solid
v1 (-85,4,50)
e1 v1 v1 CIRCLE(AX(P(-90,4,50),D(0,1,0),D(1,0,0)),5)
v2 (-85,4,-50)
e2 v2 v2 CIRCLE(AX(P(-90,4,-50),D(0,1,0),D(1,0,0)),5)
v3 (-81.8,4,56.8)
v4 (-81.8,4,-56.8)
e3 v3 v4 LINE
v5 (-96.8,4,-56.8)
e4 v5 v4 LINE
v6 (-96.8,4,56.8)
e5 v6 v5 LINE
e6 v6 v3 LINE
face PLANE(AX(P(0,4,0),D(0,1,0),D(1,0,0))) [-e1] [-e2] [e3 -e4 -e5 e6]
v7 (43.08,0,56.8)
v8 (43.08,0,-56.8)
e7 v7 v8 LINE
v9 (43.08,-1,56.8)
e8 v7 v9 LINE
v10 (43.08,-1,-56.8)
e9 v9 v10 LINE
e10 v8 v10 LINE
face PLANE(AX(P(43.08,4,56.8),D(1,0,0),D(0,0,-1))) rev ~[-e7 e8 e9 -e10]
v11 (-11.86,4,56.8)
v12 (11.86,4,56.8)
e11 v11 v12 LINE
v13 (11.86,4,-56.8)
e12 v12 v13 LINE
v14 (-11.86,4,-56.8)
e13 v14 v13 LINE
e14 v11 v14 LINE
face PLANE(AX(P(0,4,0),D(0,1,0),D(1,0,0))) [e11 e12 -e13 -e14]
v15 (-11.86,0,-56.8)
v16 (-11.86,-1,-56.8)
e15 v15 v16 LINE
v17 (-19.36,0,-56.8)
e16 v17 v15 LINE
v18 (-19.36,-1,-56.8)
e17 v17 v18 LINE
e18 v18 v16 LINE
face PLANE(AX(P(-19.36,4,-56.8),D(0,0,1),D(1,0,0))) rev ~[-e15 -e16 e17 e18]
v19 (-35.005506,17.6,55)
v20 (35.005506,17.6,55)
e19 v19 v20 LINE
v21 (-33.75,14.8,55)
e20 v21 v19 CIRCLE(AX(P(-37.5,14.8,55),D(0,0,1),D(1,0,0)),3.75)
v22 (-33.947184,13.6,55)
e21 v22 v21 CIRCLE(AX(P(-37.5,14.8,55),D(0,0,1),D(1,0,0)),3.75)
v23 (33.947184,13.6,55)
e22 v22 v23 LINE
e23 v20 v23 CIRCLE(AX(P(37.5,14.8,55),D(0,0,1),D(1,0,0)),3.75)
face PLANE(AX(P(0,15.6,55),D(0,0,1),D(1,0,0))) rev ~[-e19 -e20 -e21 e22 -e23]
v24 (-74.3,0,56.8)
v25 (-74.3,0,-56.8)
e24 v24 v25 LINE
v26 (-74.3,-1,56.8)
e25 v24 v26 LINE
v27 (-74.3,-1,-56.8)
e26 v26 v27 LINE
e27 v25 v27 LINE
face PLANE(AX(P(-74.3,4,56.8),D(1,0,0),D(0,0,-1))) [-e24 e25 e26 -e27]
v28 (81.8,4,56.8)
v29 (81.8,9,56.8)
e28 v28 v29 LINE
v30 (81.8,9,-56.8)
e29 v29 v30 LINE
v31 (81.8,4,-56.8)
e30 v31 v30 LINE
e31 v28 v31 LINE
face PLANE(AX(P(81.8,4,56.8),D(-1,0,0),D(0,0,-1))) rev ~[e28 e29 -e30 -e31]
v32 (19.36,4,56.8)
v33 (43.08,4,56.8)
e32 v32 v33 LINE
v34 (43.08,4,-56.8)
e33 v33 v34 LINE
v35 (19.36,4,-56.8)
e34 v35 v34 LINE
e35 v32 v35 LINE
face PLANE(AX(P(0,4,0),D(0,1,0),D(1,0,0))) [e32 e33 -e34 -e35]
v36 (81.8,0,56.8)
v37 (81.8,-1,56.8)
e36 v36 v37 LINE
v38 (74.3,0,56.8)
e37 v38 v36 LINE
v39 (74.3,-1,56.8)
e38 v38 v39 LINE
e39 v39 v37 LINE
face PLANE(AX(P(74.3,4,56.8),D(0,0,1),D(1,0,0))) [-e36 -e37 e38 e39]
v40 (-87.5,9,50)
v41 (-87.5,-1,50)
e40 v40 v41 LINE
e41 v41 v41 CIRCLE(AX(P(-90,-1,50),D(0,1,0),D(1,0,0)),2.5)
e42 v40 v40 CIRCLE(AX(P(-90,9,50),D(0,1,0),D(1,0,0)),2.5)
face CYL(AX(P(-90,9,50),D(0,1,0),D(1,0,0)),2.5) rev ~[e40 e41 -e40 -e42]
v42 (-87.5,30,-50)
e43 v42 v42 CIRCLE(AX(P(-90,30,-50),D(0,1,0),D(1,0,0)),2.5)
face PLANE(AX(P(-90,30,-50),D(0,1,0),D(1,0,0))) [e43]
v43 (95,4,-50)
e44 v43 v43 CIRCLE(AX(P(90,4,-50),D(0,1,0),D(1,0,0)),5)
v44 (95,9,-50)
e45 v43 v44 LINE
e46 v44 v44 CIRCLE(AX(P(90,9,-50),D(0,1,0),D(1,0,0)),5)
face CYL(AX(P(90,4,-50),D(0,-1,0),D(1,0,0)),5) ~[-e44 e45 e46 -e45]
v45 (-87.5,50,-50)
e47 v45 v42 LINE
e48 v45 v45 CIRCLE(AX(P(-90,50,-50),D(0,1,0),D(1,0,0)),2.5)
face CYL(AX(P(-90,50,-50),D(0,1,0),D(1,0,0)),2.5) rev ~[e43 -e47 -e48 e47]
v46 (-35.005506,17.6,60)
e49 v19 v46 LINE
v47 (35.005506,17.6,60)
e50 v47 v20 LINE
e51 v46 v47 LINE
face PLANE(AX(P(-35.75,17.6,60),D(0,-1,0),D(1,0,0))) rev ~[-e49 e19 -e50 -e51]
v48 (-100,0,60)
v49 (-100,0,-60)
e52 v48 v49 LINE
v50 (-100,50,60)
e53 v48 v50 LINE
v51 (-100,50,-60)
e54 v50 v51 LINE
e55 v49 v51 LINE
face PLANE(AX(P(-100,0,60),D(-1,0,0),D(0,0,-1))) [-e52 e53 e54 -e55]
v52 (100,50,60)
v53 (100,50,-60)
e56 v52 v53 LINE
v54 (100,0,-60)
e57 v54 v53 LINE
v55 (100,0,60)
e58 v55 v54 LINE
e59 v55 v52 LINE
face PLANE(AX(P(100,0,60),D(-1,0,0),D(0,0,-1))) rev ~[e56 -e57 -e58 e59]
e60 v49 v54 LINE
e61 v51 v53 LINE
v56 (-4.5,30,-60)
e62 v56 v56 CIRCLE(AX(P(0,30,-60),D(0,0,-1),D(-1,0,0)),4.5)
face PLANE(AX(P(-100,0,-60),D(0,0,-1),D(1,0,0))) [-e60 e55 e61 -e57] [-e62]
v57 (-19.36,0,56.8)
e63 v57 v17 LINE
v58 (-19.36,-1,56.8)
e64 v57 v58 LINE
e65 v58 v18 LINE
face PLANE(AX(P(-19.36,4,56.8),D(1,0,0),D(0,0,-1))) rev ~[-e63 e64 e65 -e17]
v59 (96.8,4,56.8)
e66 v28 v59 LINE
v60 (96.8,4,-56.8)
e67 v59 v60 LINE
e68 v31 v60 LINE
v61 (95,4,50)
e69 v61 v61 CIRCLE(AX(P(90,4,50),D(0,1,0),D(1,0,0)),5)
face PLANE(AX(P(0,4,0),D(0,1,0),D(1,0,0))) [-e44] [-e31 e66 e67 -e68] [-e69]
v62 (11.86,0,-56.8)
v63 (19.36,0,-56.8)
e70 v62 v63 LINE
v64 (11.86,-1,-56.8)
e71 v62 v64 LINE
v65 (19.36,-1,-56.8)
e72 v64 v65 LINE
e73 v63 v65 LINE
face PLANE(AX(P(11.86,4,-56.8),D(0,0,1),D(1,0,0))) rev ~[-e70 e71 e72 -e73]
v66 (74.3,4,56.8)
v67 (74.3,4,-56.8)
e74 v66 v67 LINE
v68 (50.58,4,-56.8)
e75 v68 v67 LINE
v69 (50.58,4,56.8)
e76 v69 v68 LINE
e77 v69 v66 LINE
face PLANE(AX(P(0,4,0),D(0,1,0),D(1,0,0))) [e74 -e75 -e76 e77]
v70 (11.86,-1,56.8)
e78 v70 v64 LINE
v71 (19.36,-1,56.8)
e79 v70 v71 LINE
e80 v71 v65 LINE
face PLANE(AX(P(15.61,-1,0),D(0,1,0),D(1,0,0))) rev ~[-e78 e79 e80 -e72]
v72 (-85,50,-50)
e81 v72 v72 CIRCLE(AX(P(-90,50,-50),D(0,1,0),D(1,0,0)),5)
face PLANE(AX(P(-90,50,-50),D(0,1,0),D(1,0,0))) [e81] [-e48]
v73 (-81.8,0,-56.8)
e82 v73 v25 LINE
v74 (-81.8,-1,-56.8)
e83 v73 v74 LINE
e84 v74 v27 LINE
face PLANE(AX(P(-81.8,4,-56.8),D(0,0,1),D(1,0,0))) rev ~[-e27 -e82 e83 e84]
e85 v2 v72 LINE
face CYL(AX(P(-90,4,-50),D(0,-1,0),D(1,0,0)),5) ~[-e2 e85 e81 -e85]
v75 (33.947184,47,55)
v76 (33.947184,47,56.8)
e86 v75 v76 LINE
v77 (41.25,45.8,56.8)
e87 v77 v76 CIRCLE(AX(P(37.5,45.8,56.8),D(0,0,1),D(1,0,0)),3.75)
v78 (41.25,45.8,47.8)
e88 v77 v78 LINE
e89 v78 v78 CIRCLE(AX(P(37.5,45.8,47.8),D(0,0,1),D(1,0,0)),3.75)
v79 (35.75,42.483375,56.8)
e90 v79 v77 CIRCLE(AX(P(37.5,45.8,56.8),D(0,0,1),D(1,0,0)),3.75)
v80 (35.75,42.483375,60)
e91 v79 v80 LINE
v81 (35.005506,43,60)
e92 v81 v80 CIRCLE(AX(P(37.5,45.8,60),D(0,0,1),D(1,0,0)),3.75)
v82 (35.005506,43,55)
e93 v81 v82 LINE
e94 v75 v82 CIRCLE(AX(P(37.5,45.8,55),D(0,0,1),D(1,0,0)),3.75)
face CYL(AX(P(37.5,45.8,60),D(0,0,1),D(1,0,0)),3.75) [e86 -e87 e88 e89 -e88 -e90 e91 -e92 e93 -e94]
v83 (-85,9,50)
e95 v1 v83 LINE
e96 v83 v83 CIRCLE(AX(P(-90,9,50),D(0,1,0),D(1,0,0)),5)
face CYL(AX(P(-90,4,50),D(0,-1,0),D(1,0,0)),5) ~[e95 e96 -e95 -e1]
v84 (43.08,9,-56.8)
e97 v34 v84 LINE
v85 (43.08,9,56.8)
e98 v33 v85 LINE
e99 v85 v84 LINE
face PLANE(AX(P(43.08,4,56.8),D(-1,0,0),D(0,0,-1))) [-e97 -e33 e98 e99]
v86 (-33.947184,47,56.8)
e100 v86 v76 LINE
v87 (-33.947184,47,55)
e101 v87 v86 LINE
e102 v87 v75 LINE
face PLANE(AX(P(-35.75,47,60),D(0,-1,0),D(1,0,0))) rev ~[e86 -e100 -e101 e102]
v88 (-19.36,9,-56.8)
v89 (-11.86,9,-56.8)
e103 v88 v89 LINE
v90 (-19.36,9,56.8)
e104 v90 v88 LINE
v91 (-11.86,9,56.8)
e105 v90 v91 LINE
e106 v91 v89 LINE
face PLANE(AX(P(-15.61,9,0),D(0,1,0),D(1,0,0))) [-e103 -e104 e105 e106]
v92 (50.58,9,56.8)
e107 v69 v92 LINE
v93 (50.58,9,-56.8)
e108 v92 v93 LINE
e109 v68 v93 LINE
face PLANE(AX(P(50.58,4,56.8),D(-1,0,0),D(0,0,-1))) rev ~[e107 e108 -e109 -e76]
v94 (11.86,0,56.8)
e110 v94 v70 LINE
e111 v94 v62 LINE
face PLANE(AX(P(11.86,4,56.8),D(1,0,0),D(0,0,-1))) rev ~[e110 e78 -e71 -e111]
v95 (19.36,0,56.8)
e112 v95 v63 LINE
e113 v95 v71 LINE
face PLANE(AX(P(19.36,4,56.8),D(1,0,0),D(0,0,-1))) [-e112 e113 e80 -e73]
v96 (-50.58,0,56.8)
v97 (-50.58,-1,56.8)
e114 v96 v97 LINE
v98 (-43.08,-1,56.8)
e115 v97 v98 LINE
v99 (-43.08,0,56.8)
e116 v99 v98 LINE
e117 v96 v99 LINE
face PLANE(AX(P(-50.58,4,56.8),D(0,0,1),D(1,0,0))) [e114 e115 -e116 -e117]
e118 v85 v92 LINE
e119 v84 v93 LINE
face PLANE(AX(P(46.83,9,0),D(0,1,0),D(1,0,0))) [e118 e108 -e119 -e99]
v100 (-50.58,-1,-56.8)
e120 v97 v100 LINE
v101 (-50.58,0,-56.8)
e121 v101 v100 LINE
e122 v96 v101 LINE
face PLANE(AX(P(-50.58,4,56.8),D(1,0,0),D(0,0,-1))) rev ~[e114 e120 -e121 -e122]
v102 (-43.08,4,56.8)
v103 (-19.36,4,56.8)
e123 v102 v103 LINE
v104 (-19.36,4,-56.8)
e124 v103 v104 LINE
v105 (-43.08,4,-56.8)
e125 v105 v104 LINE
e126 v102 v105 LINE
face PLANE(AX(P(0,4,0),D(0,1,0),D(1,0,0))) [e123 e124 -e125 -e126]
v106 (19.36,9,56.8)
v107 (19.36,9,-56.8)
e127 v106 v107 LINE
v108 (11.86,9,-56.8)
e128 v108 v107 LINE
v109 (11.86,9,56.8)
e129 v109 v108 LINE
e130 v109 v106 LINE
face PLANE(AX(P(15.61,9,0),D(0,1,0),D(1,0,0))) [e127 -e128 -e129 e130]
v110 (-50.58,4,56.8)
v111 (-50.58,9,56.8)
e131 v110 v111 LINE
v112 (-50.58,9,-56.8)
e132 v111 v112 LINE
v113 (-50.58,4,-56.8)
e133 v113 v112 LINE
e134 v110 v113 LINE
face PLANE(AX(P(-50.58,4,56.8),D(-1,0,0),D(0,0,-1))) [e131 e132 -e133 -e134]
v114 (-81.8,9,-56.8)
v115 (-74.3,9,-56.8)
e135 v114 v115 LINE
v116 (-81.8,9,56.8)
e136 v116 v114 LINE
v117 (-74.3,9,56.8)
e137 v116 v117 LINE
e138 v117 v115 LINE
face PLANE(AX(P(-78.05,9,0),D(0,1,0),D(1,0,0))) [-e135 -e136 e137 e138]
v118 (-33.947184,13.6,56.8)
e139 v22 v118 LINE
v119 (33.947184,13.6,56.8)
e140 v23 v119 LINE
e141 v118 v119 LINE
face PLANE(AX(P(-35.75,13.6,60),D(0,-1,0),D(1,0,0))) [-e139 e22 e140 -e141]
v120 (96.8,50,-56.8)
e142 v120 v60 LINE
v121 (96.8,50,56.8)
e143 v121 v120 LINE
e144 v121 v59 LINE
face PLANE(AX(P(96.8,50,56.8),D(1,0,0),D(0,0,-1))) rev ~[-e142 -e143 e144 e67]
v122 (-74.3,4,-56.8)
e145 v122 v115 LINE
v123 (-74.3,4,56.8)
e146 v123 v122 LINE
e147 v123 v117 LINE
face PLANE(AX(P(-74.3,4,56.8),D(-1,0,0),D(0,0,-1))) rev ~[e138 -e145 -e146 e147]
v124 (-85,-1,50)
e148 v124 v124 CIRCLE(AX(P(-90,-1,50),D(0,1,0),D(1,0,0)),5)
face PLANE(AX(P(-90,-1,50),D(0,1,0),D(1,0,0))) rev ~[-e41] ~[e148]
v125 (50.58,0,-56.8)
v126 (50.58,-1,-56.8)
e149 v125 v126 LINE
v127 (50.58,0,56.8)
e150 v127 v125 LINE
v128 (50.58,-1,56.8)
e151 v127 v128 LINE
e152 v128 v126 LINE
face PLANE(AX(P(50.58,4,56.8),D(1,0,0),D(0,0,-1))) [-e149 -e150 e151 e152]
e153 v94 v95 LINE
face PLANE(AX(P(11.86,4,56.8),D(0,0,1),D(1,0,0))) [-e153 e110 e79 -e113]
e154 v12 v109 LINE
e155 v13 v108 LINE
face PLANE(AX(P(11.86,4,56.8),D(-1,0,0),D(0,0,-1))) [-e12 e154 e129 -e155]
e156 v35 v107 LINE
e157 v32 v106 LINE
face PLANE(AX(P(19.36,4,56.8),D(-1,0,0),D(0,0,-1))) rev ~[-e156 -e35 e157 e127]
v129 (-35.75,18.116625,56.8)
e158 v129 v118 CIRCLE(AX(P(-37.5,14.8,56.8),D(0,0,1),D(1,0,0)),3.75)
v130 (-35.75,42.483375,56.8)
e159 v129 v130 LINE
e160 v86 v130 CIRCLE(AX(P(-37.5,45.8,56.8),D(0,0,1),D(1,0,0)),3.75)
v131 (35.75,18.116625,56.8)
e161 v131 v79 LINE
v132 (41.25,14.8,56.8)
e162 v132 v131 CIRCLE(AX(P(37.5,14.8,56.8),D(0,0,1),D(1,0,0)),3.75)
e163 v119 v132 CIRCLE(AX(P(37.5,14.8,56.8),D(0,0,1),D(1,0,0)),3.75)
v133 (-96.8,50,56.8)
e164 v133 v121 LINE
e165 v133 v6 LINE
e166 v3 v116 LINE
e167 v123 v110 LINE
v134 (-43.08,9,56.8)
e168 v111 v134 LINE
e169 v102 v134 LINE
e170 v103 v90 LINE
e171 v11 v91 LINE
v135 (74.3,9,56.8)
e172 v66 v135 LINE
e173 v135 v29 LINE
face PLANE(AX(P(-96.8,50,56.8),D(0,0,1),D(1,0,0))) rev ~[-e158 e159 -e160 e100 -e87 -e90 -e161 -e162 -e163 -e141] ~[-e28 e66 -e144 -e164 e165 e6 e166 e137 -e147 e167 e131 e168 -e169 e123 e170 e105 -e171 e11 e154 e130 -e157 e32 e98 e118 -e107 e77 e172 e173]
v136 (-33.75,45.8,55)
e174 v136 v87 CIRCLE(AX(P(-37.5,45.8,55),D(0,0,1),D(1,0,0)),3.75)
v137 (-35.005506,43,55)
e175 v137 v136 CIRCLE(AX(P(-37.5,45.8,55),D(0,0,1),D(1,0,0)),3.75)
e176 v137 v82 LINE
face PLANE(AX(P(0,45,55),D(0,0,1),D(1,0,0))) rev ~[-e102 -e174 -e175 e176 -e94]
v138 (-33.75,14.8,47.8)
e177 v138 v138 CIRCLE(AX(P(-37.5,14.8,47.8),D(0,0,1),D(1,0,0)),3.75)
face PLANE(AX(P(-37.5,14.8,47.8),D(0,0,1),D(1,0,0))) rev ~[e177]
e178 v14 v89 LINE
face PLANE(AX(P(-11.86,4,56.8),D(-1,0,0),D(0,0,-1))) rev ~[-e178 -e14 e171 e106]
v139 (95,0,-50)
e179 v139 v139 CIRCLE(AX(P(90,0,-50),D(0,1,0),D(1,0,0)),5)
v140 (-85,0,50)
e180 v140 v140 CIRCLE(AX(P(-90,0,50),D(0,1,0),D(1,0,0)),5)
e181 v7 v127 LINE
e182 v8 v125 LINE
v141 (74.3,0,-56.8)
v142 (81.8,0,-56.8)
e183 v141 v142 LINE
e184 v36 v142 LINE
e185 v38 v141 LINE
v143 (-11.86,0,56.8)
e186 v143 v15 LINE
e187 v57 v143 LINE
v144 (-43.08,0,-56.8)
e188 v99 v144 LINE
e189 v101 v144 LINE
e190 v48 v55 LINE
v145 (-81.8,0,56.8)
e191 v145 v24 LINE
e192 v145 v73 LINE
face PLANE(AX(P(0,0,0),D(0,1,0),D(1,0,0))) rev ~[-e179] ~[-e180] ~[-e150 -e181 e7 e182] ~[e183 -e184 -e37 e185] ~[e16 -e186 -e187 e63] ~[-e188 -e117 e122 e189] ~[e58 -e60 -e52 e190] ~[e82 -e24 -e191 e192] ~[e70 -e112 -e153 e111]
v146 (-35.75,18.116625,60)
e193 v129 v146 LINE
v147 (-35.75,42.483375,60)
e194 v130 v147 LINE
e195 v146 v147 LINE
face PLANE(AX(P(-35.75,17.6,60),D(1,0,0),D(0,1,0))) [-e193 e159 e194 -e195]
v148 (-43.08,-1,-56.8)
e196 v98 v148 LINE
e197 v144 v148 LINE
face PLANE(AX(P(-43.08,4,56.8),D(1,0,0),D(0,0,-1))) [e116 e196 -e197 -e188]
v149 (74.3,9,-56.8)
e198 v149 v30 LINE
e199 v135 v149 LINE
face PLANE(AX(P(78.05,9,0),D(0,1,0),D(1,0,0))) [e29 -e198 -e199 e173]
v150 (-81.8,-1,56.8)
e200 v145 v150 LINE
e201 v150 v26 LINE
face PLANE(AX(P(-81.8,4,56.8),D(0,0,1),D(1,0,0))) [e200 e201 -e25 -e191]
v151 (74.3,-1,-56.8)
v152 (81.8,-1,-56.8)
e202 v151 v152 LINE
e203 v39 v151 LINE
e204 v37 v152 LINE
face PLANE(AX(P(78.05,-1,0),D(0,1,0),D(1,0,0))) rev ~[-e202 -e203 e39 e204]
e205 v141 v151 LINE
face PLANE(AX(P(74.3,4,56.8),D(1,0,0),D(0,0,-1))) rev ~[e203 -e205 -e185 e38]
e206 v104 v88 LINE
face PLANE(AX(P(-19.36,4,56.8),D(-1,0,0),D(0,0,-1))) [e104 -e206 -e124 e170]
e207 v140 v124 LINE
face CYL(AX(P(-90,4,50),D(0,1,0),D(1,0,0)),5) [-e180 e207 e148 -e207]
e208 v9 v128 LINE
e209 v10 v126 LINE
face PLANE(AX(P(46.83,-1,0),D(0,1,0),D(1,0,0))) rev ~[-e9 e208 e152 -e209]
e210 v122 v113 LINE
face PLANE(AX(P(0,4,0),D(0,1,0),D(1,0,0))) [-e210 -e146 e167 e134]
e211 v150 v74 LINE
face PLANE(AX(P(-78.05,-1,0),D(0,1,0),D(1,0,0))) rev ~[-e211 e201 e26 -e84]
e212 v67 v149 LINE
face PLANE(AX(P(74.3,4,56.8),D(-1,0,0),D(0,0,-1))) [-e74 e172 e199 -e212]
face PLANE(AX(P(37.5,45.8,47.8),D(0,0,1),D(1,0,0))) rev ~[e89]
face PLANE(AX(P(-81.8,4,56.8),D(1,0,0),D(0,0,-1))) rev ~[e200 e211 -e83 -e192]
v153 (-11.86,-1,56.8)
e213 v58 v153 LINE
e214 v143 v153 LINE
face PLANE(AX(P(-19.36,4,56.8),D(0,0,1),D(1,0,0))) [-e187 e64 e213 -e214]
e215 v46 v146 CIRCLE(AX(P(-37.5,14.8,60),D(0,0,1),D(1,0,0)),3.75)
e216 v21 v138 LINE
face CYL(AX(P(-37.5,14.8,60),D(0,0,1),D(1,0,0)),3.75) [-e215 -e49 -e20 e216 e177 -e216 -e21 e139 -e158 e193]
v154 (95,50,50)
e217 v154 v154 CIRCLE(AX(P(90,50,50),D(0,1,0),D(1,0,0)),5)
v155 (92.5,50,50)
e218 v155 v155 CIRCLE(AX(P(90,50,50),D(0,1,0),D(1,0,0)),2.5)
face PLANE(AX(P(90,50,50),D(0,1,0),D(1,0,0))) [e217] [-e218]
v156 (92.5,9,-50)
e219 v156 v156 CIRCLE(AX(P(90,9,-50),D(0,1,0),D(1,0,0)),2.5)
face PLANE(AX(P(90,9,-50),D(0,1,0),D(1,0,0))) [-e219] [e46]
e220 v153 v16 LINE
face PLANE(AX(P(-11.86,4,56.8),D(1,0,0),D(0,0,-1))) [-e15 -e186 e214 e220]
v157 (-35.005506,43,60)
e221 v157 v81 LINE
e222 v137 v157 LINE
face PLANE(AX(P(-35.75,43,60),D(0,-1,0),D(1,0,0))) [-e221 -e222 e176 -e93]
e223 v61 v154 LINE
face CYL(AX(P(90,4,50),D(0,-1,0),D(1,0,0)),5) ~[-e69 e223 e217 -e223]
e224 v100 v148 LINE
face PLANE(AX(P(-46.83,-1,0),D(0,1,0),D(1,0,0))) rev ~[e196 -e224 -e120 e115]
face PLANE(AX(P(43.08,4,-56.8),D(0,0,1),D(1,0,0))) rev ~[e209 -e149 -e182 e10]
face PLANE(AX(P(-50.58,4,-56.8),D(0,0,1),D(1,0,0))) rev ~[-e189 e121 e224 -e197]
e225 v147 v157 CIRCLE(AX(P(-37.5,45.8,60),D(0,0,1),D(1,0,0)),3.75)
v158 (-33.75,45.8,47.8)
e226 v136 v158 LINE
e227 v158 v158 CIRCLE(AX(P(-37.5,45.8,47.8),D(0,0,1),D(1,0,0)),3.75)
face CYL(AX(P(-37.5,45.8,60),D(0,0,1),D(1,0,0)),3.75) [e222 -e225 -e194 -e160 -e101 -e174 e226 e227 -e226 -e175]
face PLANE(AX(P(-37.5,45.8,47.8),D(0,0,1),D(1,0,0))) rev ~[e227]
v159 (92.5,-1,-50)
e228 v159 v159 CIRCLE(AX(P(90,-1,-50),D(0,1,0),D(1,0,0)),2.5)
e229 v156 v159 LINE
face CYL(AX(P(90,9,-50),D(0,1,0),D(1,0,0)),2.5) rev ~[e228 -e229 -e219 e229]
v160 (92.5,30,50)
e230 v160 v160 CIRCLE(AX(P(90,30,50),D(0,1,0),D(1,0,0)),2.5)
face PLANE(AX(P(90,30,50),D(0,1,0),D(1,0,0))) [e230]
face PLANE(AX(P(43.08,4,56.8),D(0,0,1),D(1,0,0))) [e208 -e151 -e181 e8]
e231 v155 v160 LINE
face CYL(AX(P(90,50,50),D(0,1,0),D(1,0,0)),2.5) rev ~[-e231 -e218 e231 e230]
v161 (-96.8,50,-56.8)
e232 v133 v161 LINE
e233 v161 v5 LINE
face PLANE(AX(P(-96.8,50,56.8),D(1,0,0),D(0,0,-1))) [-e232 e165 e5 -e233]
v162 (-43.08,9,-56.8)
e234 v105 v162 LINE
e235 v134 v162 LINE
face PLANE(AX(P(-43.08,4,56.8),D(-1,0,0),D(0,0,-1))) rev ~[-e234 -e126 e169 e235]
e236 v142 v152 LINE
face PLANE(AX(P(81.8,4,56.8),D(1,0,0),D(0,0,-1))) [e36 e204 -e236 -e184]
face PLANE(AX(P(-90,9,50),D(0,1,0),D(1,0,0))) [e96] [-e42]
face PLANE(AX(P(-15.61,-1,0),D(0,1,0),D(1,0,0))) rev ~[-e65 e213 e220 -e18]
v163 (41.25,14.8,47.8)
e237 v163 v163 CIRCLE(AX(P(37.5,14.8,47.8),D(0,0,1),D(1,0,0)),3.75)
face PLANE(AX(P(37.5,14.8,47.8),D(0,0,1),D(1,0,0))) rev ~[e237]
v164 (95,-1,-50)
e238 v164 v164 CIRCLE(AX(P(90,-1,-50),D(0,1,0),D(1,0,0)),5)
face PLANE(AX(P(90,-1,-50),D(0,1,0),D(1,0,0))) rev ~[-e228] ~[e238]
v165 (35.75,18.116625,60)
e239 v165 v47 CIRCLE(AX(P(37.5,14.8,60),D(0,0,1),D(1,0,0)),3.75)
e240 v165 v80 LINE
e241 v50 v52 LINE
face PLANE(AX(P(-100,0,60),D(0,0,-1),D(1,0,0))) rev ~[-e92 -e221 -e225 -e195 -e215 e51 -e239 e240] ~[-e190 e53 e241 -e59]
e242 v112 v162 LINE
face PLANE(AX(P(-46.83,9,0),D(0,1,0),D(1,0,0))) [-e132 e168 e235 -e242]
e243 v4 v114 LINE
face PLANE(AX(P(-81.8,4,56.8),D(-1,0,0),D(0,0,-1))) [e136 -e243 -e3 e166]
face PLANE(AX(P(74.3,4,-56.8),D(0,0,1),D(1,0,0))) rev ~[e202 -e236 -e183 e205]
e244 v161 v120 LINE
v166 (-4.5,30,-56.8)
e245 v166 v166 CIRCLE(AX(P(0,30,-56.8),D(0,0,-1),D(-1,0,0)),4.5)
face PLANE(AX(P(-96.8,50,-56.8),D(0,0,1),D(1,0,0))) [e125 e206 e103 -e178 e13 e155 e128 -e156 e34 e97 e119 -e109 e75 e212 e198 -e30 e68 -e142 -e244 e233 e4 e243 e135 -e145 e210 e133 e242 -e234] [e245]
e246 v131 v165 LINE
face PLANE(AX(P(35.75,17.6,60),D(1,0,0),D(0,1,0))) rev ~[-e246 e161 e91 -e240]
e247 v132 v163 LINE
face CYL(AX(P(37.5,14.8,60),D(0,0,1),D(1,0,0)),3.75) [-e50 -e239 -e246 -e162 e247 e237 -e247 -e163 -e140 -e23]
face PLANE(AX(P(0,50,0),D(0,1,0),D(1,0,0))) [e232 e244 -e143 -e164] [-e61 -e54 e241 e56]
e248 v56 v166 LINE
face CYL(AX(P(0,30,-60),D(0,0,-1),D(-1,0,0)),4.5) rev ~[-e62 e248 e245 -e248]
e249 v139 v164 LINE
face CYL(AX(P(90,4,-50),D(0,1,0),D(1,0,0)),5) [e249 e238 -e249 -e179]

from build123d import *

# Parameters (mm, degrees)
CROQUIS1_W                   = 200
CROQUIS1_H                   = 120
SALIENTE_EXTRUIR1_DEPTH      = 50
CROQUIS2_W                   = 193.6
CROQUIS2_H                   = 113.6
CORTAR_EXTRUIR1_DEPTH        = 46
CROQUIS3_W                   = 71.5
CROQUIS3_H                   = 25.4
CORTAR_EXTRUIR2_DEPTH        = 3.5
CROQUIS4_R                   = 3.75
SALIENTE_EXTRUIR2_DEPTH      = 12.2
CROQUIS5_W                   = 71.5
CROQUIS5_H                   = 4
SALIENTE_EXTRUIR3_DEPTH      = 5
SALIENTE_EXTRUIR4_DEPTH      = 5
SALIENTE_EXTRUIR4_DEPTH_BACK = 5
CROQUIS6_W                   = 7.5
CROQUIS6_H                   = 113.6
CROQUIS7_R                   = 4.5
CORTAR_EXTRUIR3_DEPTH        = 3.3
CROQUIS6_5_R                 = 5
SALIENTE_EXTRUIR5_DEPTH      = 46
SALIENTE_EXTRUIR6_DEPTH      = 5
SALIENTE_EXTRUIR6_DEPTH_BACK = 5
CROQUIS6_6_R                 = 5
CROQUIS8_R                   = 2.5
CORTAR_EXTRUIR4_DEPTH        = 20
CROQUIS9_R                   = 2.5
CORTAR_EXTRUIR5_DEPTH        = 124.616341962


with BuildPart() as part:
    # Croquis1 → Saliente-Extruir1 (new body)
    with BuildSketch(Plane(origin=(0, 0, 0), x_dir=(1, 0, 0), z_dir=(0, 1, 0))):
        Rectangle(CROQUIS1_W, CROQUIS1_H)
    extrude(amount=SALIENTE_EXTRUIR1_DEPTH)

    # Croquis2 → Cortar-Extruir1 (cut)
    with BuildSketch(Plane(origin=(0, 50, 0), x_dir=(1, 0, 0), z_dir=(0, 1, 0))):
        Rectangle(CROQUIS2_W, CROQUIS2_H)
    extrude(amount=-CORTAR_EXTRUIR1_DEPTH, mode=Mode.SUBTRACT)

    # Croquis3 → Cortar-Extruir2 (cut)
    with BuildSketch(Plane.XY.offset(60)):
        with Locations((0, 30.3)):
            Rectangle(CROQUIS3_W, CROQUIS3_H)
    extrude(amount=-CORTAR_EXTRUIR2_DEPTH, mode=Mode.SUBTRACT)

    # Croquis4 → Saliente-Extruir2 (add)
    with BuildSketch(Plane.XY.offset(60)):
        with Locations((-37.5, 45.8)):
            Circle(CROQUIS4_R)
        with Locations((37.5, 45.8)):
            Circle(CROQUIS4_R)
        with Locations((37.5, 14.8)):
            Circle(CROQUIS4_R)
        with Locations((-37.5, 14.8)):
            Circle(CROQUIS4_R)
    extrude(amount=-SALIENTE_EXTRUIR2_DEPTH)

    # Croquis5 → Saliente-Extruir3 (add)
    with BuildSketch(Plane.XY.offset(60)):
        with Locations((0, 15.6)):
            Rectangle(CROQUIS5_W, CROQUIS5_H)
        with Locations((0, 45)):
            Rectangle(CROQUIS5_W, CROQUIS5_H)
    extrude(amount=-SALIENTE_EXTRUIR3_DEPTH)

    # Croquis6 → Saliente-Extruir4 (add, two sides: drawn at the far end of the back side and taken through both)
    with BuildSketch(Plane(origin=(0, 4, 0), x_dir=(1, 0, 0), z_dir=(0, 1, 0)).offset(-SALIENTE_EXTRUIR4_DEPTH_BACK)):
        with Locations((-78.05, 0)):
            Rectangle(CROQUIS6_W, CROQUIS6_H)
        with Locations((-46.83, 0)):
            Rectangle(CROQUIS6_W, CROQUIS6_H)
        with Locations((-15.61, 0)):
            Rectangle(CROQUIS6_W, CROQUIS6_H)
        with Locations((15.61, 0)):
            Rectangle(CROQUIS6_W, CROQUIS6_H)
        with Locations((46.83, 0)):
            Rectangle(CROQUIS6_W, CROQUIS6_H)
        with Locations((78.05, 0)):
            Rectangle(CROQUIS6_W, CROQUIS6_H)
    extrude(amount=SALIENTE_EXTRUIR4_DEPTH + SALIENTE_EXTRUIR4_DEPTH_BACK)

    # Croquis7 → Cortar-Extruir3 (cut)
    with BuildSketch(Plane(origin=(0, 0, -60), x_dir=(-1, 0, 0), z_dir=(0, 0, -1))):
        with Locations((0, 30)):
            Circle(CROQUIS7_R)
    extrude(amount=-CORTAR_EXTRUIR3_DEPTH, mode=Mode.SUBTRACT)

    # Croquis6<5> → Saliente-Extruir5 (add)
    with BuildSketch(Plane(origin=(0, 4, 0), x_dir=(1, 0, 0), z_dir=(0, 1, 0))):
        with Locations((-90, 50)):
            Circle(CROQUIS6_5_R)
        with Locations((90, -50)):
            Circle(CROQUIS6_5_R)
    extrude(amount=SALIENTE_EXTRUIR5_DEPTH)

    # Croquis6<6> → Saliente-Extruir6 (add, two sides: drawn at the far end of the back side and taken through both)
    with BuildSketch(Plane(origin=(0, 4, 0), x_dir=(1, 0, 0), z_dir=(0, 1, 0)).offset(-SALIENTE_EXTRUIR6_DEPTH_BACK)):
        with Locations((90, 50)):
            Circle(CROQUIS6_6_R)
        with Locations((-90, -50)):
            Circle(CROQUIS6_6_R)
    extrude(amount=SALIENTE_EXTRUIR6_DEPTH + SALIENTE_EXTRUIR6_DEPTH_BACK)

    # Croquis8 → Cortar-Extruir4 (cut)
    with BuildSketch(Plane(origin=(0, 50, 0), x_dir=(1, 0, 0), z_dir=(0, 1, 0))):
        with Locations((-90, 50)):
            Circle(CROQUIS8_R)
        with Locations((90, -50)):
            Circle(CROQUIS8_R)
    extrude(amount=-CORTAR_EXTRUIR4_DEPTH, mode=Mode.SUBTRACT)

    # Croquis9 → Cortar-Extruir5 (cut, through all)
    with BuildSketch(Plane(origin=(0, 9, 0), x_dir=(1, 0, 0), z_dir=(0, 1, 0))):
        with Locations((-90, -50)):
            Circle(CROQUIS9_R)
        with Locations((90, 50)):
            Circle(CROQUIS9_R)
    extrude(amount=-CORTAR_EXTRUIR5_DEPTH, mode=Mode.SUBTRACT)


solid = part.part
